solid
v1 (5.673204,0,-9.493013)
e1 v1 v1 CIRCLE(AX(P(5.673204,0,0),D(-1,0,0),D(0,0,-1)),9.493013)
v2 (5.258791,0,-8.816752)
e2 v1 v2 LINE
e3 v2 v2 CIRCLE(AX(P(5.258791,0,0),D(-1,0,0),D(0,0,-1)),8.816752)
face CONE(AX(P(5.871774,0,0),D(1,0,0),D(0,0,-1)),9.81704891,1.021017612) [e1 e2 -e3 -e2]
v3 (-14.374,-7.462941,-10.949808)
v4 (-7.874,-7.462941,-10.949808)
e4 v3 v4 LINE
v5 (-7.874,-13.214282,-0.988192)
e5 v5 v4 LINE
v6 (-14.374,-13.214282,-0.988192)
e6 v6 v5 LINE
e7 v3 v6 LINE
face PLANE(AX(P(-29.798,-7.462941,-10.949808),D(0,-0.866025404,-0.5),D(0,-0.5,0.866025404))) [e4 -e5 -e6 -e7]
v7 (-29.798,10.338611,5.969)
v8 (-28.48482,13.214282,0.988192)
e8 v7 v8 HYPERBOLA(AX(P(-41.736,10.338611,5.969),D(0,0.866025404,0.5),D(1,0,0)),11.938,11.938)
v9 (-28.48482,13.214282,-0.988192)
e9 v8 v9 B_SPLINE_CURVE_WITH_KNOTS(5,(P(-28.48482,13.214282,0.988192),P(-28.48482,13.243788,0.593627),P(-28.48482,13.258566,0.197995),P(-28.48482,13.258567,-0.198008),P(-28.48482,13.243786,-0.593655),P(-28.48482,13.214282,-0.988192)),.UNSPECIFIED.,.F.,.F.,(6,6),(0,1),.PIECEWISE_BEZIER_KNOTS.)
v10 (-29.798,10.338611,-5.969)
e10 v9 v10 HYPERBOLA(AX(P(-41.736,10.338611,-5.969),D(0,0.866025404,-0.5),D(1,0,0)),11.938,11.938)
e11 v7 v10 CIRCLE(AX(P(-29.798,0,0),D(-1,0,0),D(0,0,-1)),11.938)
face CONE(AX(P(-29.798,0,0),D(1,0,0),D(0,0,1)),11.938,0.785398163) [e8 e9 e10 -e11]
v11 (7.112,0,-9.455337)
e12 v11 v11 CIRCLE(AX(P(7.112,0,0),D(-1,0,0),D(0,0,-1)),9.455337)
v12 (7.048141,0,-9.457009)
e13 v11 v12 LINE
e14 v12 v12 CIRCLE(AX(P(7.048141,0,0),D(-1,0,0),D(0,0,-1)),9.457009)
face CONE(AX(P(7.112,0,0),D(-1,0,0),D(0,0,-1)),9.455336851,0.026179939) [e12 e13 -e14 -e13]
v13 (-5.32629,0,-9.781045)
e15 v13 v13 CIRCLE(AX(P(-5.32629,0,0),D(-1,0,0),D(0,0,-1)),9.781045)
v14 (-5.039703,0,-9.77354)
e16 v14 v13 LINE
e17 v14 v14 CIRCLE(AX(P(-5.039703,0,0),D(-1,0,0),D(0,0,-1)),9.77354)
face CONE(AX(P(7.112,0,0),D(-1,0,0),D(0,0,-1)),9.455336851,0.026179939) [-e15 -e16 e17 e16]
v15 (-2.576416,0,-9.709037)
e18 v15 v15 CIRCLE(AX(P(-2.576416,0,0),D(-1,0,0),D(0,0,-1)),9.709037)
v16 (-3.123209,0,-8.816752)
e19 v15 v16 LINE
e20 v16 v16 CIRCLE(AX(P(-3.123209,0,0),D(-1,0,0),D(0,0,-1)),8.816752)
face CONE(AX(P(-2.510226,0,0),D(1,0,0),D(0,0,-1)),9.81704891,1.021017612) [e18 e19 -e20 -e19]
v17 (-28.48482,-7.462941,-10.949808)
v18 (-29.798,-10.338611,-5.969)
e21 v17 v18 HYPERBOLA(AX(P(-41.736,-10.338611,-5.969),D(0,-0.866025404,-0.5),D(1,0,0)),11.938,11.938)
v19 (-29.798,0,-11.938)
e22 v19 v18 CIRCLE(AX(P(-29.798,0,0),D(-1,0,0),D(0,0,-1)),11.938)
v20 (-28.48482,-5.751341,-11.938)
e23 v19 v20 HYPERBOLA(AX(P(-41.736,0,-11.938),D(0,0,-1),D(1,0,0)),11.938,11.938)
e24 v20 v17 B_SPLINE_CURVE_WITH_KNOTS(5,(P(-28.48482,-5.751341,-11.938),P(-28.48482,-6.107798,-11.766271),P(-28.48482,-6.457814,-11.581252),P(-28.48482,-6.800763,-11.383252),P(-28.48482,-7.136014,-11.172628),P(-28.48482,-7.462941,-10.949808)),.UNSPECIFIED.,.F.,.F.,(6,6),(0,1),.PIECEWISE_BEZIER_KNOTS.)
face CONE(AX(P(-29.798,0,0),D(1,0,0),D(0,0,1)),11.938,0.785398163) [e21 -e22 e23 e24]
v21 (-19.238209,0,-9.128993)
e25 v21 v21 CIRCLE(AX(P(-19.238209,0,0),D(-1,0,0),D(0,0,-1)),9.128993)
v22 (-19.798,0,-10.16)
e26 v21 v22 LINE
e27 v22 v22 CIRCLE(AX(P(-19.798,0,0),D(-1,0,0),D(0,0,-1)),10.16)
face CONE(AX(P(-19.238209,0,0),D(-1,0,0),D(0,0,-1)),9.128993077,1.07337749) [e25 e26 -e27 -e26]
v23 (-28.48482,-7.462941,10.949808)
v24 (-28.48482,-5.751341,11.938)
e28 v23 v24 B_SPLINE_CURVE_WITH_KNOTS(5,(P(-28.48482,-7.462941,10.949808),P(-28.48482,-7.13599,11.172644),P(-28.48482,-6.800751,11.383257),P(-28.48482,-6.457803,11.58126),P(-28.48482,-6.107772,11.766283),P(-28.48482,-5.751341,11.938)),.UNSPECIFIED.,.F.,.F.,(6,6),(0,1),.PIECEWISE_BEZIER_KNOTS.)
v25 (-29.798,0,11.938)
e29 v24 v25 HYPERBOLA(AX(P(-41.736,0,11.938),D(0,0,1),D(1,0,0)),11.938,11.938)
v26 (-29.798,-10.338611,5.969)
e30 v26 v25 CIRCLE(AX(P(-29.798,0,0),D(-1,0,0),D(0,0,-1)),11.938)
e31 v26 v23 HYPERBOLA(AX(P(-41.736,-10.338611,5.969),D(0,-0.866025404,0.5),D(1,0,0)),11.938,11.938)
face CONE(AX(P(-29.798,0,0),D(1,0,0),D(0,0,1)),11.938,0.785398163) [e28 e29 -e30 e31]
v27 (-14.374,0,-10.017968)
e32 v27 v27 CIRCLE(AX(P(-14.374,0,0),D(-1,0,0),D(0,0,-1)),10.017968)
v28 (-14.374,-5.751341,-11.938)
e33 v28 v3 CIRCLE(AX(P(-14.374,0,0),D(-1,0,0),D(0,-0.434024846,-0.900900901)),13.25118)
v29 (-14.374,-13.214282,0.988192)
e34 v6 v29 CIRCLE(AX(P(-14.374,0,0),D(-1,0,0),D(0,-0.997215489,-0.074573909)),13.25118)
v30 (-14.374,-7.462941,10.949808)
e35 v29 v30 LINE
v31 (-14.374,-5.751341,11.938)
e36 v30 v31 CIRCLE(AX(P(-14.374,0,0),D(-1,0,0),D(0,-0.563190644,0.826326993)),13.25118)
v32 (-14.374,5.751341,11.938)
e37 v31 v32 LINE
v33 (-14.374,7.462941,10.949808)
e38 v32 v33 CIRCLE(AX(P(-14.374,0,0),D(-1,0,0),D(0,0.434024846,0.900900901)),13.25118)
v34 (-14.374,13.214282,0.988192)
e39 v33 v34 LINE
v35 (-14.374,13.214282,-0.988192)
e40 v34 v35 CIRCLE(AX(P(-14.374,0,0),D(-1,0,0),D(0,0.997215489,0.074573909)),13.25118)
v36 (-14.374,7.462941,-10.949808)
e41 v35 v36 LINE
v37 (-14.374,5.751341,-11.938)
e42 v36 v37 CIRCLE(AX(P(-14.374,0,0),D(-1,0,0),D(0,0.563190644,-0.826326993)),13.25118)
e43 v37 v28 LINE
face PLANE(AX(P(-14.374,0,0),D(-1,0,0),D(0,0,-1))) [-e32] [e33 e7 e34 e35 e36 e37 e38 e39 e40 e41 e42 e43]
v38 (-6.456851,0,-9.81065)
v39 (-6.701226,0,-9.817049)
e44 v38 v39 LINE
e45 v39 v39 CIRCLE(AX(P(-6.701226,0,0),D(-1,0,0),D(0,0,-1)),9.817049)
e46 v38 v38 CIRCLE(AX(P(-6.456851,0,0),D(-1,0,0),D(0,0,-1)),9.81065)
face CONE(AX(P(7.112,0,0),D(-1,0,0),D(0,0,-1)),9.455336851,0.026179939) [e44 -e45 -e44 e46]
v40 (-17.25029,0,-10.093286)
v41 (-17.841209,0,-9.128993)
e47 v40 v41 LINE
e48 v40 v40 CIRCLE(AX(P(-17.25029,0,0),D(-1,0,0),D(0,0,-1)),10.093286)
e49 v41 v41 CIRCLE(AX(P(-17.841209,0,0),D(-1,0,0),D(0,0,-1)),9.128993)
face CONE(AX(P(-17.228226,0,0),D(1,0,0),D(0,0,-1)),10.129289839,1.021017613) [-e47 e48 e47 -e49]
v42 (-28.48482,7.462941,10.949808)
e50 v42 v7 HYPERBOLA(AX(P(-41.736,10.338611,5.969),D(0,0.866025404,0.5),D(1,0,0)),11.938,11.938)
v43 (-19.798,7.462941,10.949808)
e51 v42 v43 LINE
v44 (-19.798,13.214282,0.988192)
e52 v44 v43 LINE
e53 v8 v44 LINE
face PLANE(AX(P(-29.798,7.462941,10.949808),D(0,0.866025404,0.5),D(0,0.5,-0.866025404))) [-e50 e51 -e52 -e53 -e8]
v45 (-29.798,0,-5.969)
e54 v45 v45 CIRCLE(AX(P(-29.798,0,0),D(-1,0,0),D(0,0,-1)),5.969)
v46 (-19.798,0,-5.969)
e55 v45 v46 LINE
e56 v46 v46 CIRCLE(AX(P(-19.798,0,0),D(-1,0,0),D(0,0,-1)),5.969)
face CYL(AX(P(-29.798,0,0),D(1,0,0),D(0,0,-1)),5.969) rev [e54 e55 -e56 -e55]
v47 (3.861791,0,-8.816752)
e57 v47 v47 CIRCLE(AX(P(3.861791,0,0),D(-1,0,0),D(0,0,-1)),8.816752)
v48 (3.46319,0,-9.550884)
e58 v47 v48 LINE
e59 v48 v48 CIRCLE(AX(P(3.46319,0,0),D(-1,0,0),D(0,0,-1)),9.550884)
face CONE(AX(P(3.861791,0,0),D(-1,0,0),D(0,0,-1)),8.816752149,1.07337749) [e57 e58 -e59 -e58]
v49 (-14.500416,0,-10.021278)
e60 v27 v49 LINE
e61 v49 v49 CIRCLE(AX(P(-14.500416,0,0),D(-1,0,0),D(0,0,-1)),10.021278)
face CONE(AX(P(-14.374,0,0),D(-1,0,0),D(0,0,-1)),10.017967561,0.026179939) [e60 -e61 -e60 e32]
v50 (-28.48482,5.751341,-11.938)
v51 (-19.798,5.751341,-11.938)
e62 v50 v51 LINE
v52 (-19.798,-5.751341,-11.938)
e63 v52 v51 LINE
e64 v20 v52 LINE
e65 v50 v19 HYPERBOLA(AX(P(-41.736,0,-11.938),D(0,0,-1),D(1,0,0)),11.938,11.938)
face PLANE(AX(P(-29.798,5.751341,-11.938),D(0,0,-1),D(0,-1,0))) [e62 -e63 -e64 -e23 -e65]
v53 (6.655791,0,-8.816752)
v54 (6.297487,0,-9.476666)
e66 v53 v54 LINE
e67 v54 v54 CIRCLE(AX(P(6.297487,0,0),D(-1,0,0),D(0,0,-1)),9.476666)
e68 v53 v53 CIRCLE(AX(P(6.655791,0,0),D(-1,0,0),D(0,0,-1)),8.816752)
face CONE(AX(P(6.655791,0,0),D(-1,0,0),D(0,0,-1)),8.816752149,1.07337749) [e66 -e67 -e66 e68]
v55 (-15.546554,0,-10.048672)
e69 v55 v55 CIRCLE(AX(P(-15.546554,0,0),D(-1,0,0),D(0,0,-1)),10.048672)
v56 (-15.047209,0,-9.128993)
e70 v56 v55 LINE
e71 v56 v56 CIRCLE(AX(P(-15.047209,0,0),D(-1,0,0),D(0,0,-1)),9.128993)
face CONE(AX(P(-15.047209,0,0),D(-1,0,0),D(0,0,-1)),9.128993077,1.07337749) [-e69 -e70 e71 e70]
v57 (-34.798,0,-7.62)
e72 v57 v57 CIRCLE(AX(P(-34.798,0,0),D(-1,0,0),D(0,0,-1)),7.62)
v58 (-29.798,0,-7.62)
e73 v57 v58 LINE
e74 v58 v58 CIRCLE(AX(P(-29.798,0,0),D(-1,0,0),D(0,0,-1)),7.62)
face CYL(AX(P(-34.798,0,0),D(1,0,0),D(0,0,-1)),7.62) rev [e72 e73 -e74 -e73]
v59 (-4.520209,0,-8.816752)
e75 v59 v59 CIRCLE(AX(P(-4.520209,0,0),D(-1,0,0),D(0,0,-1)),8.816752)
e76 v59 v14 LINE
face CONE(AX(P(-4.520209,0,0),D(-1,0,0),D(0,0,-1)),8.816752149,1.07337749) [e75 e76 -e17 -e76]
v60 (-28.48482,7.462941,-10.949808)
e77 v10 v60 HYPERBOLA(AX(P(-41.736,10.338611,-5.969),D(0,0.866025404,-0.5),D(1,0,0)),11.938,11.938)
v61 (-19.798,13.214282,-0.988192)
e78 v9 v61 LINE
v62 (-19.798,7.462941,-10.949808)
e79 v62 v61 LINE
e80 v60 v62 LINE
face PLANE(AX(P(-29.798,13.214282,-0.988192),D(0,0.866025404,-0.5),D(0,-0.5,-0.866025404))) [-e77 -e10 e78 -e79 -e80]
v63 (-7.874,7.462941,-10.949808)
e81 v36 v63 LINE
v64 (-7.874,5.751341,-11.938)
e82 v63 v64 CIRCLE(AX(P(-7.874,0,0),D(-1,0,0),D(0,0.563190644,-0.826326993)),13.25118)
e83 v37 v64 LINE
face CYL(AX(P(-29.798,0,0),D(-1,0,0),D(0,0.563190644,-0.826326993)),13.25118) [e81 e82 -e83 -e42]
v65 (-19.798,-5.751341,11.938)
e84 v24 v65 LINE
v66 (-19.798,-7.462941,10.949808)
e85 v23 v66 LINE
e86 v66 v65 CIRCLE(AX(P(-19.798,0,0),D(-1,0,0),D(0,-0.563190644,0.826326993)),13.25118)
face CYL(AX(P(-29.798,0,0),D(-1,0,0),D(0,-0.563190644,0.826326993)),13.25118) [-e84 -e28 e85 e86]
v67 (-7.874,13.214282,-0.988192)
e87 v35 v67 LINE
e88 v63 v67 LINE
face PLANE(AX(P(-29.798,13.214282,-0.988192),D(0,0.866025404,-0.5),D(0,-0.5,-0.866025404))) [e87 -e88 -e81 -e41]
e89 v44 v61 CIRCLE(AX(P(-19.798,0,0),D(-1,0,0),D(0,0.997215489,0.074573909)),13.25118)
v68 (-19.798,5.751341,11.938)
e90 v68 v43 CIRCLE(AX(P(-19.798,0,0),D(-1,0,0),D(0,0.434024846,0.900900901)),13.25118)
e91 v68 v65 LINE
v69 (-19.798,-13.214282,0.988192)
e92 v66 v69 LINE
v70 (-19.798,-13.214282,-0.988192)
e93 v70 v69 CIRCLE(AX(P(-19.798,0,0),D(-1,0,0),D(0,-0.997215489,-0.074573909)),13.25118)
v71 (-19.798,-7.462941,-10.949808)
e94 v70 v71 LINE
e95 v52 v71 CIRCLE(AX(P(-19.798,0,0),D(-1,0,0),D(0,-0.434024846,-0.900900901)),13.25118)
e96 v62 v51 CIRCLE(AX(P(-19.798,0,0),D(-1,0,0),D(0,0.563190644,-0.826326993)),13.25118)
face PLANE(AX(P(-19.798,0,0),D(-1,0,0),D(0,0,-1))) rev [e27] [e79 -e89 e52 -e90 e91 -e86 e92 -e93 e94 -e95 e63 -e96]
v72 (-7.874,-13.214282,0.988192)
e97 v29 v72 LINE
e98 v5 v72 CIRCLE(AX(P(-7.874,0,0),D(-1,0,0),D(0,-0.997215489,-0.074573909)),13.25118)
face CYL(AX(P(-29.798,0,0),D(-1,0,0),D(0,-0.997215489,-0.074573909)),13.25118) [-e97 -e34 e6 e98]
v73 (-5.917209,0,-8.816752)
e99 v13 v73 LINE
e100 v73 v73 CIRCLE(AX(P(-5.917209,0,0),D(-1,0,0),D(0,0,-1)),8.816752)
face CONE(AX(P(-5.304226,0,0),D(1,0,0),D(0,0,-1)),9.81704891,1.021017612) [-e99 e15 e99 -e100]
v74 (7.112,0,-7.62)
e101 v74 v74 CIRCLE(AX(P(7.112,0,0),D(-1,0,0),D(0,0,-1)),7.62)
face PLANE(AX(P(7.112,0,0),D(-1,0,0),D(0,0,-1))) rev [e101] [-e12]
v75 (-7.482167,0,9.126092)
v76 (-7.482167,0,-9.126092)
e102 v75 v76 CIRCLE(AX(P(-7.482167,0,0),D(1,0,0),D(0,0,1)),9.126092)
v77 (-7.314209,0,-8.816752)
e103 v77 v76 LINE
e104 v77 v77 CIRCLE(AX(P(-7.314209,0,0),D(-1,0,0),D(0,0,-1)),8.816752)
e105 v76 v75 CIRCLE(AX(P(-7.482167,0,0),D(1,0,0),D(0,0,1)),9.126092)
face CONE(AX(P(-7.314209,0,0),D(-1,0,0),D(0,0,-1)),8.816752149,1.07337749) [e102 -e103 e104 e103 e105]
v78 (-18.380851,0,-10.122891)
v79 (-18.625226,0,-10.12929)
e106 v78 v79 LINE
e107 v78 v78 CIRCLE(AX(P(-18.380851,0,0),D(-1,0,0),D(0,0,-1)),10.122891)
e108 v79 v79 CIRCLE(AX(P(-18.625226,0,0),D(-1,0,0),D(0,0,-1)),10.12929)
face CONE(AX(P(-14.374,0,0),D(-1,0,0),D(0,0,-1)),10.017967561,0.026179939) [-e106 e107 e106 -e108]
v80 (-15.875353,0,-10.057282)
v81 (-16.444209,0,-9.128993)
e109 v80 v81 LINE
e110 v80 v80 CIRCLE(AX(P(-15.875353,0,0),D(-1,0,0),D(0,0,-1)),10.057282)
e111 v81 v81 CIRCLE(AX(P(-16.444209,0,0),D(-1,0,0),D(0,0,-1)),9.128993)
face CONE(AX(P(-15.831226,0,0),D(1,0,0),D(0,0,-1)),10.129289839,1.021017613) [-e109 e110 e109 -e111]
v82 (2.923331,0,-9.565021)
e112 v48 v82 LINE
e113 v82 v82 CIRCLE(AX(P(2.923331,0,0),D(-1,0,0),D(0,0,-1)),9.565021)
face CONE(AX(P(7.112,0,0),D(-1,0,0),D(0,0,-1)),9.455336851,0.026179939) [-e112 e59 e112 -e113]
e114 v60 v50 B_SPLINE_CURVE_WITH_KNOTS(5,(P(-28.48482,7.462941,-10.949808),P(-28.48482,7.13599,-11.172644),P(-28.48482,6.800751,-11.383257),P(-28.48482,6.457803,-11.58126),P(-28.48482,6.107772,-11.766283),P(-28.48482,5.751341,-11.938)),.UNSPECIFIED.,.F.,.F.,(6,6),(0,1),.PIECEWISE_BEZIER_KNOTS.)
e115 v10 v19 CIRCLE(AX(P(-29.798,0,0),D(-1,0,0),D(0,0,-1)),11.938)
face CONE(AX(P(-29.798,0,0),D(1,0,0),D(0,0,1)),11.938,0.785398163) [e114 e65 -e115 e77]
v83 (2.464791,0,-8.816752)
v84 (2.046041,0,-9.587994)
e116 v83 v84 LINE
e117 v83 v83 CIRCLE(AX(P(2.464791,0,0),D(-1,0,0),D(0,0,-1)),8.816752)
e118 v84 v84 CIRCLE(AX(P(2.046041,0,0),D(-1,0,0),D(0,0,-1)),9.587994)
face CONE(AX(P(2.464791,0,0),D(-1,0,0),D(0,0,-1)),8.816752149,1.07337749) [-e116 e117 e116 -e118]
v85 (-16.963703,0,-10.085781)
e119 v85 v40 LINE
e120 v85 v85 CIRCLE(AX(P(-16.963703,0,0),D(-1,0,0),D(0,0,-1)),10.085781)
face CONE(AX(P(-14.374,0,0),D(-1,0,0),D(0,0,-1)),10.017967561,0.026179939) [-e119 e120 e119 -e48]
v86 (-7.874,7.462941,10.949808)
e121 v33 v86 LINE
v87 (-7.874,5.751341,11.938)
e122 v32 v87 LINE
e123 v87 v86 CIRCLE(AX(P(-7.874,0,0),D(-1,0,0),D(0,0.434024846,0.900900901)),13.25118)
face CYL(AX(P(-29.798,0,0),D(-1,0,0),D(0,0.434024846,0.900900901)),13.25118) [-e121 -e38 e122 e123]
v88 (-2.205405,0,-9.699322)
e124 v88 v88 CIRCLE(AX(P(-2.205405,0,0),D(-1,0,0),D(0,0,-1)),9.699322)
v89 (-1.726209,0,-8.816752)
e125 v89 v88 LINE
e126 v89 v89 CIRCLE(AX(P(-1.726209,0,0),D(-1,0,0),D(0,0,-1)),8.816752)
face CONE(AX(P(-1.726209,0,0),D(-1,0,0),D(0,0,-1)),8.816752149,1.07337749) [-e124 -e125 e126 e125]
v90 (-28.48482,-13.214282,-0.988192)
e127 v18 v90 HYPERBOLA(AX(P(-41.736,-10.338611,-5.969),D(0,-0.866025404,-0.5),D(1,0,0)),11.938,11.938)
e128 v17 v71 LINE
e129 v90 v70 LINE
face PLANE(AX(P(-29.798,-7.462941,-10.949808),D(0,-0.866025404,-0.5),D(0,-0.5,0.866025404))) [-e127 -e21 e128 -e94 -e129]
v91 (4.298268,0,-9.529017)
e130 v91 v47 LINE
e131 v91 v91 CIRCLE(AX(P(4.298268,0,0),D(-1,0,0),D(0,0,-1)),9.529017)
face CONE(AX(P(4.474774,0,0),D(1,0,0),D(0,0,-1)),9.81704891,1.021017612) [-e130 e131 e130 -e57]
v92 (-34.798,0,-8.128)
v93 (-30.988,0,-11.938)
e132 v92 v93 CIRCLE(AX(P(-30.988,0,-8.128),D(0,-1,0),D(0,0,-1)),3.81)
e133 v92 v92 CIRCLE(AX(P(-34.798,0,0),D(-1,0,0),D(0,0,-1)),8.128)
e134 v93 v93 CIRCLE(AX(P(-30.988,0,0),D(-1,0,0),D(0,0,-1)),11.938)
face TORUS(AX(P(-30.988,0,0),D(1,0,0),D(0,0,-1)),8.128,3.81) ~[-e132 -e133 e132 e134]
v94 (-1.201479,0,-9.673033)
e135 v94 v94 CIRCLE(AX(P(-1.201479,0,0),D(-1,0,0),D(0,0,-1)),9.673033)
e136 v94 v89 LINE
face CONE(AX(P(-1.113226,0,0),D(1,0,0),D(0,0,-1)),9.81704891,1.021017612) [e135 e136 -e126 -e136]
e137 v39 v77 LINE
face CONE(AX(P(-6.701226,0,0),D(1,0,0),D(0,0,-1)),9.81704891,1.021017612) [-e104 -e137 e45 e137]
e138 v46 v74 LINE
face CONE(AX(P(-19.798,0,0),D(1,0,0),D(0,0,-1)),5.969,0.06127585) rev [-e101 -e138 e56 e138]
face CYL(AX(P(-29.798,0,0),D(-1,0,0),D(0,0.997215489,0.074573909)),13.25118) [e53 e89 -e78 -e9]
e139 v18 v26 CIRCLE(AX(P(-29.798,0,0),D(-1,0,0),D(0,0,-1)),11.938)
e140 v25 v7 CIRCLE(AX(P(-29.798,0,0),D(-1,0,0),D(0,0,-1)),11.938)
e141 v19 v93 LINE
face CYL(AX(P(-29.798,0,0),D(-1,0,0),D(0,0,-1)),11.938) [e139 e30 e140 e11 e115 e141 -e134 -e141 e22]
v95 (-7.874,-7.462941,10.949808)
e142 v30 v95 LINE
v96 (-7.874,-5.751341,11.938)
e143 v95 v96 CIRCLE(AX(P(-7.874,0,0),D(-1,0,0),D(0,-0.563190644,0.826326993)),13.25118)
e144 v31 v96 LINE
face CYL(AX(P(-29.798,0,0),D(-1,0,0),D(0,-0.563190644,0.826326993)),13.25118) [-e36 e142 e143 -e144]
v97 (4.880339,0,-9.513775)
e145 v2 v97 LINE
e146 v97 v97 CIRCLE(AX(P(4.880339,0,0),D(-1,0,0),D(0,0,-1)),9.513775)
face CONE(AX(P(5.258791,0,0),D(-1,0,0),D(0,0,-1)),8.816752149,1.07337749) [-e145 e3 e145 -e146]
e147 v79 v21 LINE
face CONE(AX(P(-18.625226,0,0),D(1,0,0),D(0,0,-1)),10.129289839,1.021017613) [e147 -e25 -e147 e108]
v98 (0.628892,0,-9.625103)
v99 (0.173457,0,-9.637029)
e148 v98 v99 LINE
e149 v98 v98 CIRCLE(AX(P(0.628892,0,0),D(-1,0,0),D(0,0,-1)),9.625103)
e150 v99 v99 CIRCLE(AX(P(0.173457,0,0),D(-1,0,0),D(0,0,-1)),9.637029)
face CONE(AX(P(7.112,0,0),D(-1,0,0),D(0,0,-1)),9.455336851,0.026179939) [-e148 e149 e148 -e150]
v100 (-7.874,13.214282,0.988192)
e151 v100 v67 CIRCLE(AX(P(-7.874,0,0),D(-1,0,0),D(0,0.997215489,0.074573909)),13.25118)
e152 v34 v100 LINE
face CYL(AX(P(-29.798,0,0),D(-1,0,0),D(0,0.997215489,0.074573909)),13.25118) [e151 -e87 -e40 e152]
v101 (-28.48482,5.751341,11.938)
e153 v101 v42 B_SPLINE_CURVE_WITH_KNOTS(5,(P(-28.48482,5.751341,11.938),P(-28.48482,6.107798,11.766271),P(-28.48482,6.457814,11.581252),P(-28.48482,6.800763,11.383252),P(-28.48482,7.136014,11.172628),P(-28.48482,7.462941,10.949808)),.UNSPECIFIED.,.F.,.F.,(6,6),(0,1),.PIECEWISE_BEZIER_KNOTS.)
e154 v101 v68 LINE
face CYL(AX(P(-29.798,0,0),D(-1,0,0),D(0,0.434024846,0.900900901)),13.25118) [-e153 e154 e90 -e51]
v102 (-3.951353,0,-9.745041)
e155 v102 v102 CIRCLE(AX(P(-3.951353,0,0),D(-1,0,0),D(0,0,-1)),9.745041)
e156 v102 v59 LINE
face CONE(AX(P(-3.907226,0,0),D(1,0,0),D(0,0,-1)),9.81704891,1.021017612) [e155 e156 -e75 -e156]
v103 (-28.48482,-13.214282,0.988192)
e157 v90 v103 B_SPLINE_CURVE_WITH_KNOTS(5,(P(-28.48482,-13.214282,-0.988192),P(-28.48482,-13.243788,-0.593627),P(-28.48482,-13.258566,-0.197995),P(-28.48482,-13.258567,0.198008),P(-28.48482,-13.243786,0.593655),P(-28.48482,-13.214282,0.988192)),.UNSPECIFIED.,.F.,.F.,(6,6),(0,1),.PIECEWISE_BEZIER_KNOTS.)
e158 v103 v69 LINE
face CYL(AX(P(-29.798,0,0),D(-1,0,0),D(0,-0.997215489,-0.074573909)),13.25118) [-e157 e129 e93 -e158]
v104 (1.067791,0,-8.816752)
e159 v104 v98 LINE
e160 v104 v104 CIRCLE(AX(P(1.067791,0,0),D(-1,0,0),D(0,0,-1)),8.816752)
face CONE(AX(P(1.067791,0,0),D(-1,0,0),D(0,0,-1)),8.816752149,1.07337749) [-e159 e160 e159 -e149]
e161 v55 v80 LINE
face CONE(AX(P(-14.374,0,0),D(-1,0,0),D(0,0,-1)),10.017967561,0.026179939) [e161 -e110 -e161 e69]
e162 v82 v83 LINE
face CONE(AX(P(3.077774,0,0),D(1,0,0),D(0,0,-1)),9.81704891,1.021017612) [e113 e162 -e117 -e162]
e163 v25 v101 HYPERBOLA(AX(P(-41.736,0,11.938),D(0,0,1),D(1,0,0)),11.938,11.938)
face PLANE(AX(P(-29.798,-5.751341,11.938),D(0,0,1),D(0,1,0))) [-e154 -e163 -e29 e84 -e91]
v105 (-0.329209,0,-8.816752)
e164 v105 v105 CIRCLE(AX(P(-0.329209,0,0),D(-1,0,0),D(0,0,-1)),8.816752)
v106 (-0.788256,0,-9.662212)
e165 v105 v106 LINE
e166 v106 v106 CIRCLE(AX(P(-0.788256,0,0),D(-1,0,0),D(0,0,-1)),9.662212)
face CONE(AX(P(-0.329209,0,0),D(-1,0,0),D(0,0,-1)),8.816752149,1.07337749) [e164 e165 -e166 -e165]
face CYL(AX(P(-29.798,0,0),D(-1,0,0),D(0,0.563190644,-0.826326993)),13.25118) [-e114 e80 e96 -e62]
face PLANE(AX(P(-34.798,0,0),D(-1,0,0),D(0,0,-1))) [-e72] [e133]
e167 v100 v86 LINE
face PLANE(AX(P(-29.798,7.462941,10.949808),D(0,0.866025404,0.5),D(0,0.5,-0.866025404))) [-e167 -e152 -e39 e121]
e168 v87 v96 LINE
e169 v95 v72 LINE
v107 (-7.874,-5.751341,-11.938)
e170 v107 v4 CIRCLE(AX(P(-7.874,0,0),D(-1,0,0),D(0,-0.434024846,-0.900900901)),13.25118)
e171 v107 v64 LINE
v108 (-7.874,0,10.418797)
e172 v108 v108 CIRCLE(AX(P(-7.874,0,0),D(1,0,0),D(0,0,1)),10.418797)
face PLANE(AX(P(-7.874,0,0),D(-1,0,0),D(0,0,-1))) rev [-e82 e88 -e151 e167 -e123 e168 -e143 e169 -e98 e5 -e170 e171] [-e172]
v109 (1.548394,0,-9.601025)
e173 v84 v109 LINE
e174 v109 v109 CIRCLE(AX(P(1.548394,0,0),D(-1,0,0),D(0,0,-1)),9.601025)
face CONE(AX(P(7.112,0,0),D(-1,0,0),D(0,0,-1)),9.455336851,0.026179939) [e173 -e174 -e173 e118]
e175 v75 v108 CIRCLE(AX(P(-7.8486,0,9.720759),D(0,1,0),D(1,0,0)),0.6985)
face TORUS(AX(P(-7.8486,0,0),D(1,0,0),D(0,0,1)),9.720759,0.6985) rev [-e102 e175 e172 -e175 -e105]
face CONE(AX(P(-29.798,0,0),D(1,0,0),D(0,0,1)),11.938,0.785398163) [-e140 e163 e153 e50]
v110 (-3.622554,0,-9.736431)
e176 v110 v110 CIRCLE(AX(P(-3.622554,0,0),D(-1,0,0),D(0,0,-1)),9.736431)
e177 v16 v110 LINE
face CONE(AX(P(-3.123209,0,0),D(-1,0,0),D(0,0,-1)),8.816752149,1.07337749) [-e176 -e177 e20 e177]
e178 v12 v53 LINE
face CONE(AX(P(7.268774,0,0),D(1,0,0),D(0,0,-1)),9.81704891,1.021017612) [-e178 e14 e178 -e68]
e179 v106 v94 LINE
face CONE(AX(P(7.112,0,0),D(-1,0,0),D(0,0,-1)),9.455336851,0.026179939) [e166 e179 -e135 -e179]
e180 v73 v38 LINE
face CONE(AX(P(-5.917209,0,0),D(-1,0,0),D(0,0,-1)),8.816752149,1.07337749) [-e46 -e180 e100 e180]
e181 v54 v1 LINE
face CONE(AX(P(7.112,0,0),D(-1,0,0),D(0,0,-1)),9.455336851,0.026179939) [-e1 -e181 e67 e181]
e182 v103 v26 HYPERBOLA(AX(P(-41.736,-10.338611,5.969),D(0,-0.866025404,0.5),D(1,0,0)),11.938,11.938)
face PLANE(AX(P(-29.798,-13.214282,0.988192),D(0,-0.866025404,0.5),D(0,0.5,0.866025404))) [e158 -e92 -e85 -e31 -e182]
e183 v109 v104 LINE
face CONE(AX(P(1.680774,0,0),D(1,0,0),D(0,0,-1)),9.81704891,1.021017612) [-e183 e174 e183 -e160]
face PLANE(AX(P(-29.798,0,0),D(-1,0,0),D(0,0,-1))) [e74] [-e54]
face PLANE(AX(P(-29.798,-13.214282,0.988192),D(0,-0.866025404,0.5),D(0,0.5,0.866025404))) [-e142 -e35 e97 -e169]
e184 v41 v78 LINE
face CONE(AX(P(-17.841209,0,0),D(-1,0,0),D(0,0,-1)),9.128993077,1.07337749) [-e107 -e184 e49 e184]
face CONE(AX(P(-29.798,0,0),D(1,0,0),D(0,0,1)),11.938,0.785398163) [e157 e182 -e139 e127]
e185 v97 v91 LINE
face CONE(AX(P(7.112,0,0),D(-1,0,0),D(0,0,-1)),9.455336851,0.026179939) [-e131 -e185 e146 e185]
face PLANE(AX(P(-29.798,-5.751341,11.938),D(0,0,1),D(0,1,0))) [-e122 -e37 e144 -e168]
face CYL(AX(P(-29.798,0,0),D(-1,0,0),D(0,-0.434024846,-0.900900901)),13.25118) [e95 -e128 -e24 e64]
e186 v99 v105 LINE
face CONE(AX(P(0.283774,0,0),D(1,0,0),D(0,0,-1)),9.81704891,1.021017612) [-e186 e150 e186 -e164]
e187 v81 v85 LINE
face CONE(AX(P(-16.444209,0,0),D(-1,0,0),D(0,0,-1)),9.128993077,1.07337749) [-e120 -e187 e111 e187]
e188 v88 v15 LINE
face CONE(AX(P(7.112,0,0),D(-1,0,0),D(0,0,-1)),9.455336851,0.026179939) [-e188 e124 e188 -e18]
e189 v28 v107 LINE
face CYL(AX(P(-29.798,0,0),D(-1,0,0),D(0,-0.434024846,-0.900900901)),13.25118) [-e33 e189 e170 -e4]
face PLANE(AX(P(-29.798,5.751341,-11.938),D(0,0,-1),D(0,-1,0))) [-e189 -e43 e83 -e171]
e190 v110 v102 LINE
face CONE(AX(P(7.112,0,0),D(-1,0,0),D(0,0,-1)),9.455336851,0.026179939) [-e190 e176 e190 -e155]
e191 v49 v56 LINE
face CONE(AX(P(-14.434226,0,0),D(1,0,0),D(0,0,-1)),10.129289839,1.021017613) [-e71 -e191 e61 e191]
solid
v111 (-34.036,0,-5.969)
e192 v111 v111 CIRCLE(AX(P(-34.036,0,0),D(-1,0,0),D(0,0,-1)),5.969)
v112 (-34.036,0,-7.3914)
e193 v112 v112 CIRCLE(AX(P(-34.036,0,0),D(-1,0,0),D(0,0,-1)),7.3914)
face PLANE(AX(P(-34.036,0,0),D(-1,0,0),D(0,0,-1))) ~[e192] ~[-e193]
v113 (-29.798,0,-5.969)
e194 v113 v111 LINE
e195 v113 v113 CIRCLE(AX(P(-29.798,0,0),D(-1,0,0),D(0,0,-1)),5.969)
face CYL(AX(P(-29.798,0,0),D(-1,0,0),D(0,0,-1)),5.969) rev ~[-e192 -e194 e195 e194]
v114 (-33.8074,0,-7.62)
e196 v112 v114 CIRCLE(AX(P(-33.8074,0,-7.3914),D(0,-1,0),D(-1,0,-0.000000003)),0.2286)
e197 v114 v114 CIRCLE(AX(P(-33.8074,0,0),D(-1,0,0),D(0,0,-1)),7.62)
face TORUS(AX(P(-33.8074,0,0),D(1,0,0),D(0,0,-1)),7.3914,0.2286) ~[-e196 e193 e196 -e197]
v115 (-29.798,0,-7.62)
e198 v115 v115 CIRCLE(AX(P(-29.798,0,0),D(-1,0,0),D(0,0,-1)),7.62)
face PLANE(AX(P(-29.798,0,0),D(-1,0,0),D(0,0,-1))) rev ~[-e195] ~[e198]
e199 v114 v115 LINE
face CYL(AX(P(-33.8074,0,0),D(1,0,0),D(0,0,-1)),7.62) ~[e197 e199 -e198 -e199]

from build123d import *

# Parameters (mm, degrees)
LPATTERN6_COUNT    = 4
LPATTERN6_PITCH    = 1.397
LPATTERN7_COUNT    = 11
LPATTERN7_PITCH    = 1.397
SKETCH12_OUTSIDE_W = 65.648
SKETCH12_OUTSIDE_H = 65.648
CUT_EXTRUDE2_DEPTH = 37.91
FILLET4_R          = 3.81
SKETCH19_OUTSIDE_W = 40.884
SKETCH19_OUTSIDE_H = 43.51
SKETCH19_OUTSIDE_R = 11.938
CUT_EXTRUDE3_DEPTH = 1.999996
CUT_EXTRUDE3_DRAFT = -45
SKETCH28_R         = 0.6985


with BuildPart() as part:
    # Sketch10 → Revolve2 (revolve)
    with BuildSketch(Plane.XY, mode=Mode.PRIVATE) as revolve2_sk:
        Polygon((-29.798, 5.969), (-19.798, 5.969), (7.112, 7.62), (7.112, 9.455336851), (-7.874, 9.847759071), (-7.874, 23.876), (-14.374, 23.876), (-14.374, 10.017967561), (-19.798, 10.16), (-19.798, 23.876), (-29.798, 23.876), (-29.798, 11.938), (-34.798, 11.938), (-34.798, 7.62), (-29.798, 7.62), align=None)
    revolve(revolve2_sk.sketch.rotate(Axis((0, 0, 0), (-1, 0, 0)), 90), axis=Axis((0, 0, 0), (-1, 0, 0)))  # turned: the seam where the file's is

    # Sketch26 → Cut-Revolve1 (revolve, cut)
    with BuildSketch(Plane.XY, mode=Mode.PRIVATE) as cut_revolve1_sk:
        Polygon((-19.798, 10.16), (-18.625226271, 10.129289839), (-19.238208915, 9.128993077), align=None)
    cut_revolve1 = revolve(cut_revolve1_sk.sketch.rotate(Axis((0, 0, 0), (-1, 0, 0)), 90), axis=Axis((0, 0, 0), (-1, 0, 0)), mode=Mode.SUBTRACT)  # turned: the seam where the file's is

    # LPattern6: Cut-Revolve1 ×4
    with Locations(*[(i * LPATTERN6_PITCH, 0, 0) for i in range(1, LPATTERN6_COUNT)]):
        add(cut_revolve1, mode=Mode.SUBTRACT)

    # Sketch27 → Cut-Revolve2 (revolve, cut)
    with BuildSketch(Plane.XY, mode=Mode.PRIVATE) as cut_revolve2_sk:
        Polygon((-7.874, 9.847759071), (-6.701226271, 9.81704891), (-7.314208915, 8.816752149), align=None)
    cut_revolve2 = revolve(cut_revolve2_sk.sketch.rotate(Axis((0, 0, 0), (-1, 0, 0)), 90), axis=Axis((0, 0, 0), (-1, 0, 0)), mode=Mode.SUBTRACT)  # turned: the seam where the file's is

    # LPattern7: Cut-Revolve2 ×11
    with Locations(*[(i * LPATTERN7_PITCH, 0, 0) for i in range(1, LPATTERN7_COUNT)]):
        add(cut_revolve2, mode=Mode.SUBTRACT)

    # Sketch12 outside → Cut-Extrude2 (cut, through all)
    with BuildSketch(Plane.ZY.offset(29.798)):
        Rectangle(SKETCH12_OUTSIDE_W, SKETCH12_OUTSIDE_H)
        with BuildLine():
            Line((-0.98819228, 13.214281948), (-10.94980772, 7.462940592))
            ThreePointArc((-10.94980772, 7.462940592), (-11.47585851, 6.62559), (-11.938, 5.751341356))
            Line((-11.938, 5.751341356), (-11.938, -5.751341356))
            ThreePointArc((-11.938, -5.751341356), (-11.47585851, -6.62559), (-10.94980772, -7.462940592))
            Line((-10.94980772, -7.462940592), (-0.98819228, -13.214281948))
            ThreePointArc((-0.98819228, -13.214281948), (0, -13.25118), (0.98819228, -13.214281948))
            Line((0.98819228, -13.214281948), (10.94980772, -7.462940592))
            ThreePointArc((10.94980772, -7.462940592), (11.47585851, -6.62559), (11.938, -5.751341356))
            Line((11.938, -5.751341356), (11.938, 5.751341356))
            ThreePointArc((11.938, 5.751341356), (11.47585851, 6.62559), (10.94980772, 7.462940592))
            Line((10.94980772, 7.462940592), (0.98819228, 13.214281948))
            ThreePointArc((0.98819228, 13.214281948), (0, 13.25118), (-0.98819228, 13.214281948))
        make_face(mode=Mode.SUBTRACT)
    extrude(amount=-CUT_EXTRUDE2_DEPTH, mode=Mode.SUBTRACT)

    # Fillet4
    fillet4_edges = [part.edges().sort_by_distance(p)[0] for p in [
        (-34.798, 0, 11.938),
    ]]
    fillet(fillet4_edges, radius=FILLET4_R)


with BuildPart() as body_2:
    # Sketch23 → Revolve6 (revolve)
    with BuildSketch(Plane.XY, mode=Mode.PRIVATE) as revolve6_sk:
        with BuildLine():
            Line((-33.8074, 7.62), (-29.798, 7.62))
            Line((-29.798, 7.62), (-29.798, 5.969))
            Line((-29.798, 5.969), (-34.036, 5.969))
            Line((-34.036, 5.969), (-34.036, 7.3914))
            ThreePointArc((-34.036, 7.3914), (-33.96904461, 7.55304461), (-33.8074, 7.62))
        make_face()
    revolve(revolve6_sk.sketch.rotate(Axis((0, 0, 0), (-1, 0, 0)), 90), axis=Axis((0, 0, 0), (-1, 0, 0)))  # turned: the seam where the file's is


with BuildPart() as cut_extrude3_tool:
    # Sketch19 outside → Cut-Extrude3 (with draft: the straight prism first)
    with BuildSketch(Plane.ZY.offset(29.798)):
        Rectangle(SKETCH19_OUTSIDE_W, SKETCH19_OUTSIDE_H)
        Circle(SKETCH19_OUTSIDE_R, mode=Mode.SUBTRACT)
    extrude(amount=-CUT_EXTRUDE3_DEPTH)
    # Cut-Extrude3: the draft: its side faces are tilted about the plane it starts from
    cut_extrude3_sides = [cut_extrude3_tool.faces().sort_by_distance(p)[0] for p in [
        (-28.798002, -21.755, 0),
        (-28.798002, 0, 20.442),
        (-28.798002, 21.755, 0),
        (-28.798002, 0, -20.442),
        (-28.798002, 0, -11.938),
    ]]
    draft(cut_extrude3_sides, Plane.ZY.offset(29.798), CUT_EXTRUDE3_DRAFT)


with BuildPart() as part_1:
    add(part.part)

    # Cut-Extrude3: cut by cut_extrude3_tool
    add(cut_extrude3_tool.part, mode=Mode.SUBTRACT)

    # Sketch28 → Cut-Revolve3 (revolve, cut)
    with BuildSketch(Plane.XY, mode=Mode.PRIVATE) as cut_revolve3_sk:
        with Locations((-7.8486, -9.720759071)):
            Circle(SKETCH28_R)
    revolve(cut_revolve3_sk.sketch.rotate(Axis((7.112, 0, 0), (-1, 0, 0)), 90), axis=Axis((7.112, 0, 0), (-1, 0, 0)), mode=Mode.SUBTRACT)  # turned: the seam where the file's is


solid = Compound([body_2.part, part_1.part])
